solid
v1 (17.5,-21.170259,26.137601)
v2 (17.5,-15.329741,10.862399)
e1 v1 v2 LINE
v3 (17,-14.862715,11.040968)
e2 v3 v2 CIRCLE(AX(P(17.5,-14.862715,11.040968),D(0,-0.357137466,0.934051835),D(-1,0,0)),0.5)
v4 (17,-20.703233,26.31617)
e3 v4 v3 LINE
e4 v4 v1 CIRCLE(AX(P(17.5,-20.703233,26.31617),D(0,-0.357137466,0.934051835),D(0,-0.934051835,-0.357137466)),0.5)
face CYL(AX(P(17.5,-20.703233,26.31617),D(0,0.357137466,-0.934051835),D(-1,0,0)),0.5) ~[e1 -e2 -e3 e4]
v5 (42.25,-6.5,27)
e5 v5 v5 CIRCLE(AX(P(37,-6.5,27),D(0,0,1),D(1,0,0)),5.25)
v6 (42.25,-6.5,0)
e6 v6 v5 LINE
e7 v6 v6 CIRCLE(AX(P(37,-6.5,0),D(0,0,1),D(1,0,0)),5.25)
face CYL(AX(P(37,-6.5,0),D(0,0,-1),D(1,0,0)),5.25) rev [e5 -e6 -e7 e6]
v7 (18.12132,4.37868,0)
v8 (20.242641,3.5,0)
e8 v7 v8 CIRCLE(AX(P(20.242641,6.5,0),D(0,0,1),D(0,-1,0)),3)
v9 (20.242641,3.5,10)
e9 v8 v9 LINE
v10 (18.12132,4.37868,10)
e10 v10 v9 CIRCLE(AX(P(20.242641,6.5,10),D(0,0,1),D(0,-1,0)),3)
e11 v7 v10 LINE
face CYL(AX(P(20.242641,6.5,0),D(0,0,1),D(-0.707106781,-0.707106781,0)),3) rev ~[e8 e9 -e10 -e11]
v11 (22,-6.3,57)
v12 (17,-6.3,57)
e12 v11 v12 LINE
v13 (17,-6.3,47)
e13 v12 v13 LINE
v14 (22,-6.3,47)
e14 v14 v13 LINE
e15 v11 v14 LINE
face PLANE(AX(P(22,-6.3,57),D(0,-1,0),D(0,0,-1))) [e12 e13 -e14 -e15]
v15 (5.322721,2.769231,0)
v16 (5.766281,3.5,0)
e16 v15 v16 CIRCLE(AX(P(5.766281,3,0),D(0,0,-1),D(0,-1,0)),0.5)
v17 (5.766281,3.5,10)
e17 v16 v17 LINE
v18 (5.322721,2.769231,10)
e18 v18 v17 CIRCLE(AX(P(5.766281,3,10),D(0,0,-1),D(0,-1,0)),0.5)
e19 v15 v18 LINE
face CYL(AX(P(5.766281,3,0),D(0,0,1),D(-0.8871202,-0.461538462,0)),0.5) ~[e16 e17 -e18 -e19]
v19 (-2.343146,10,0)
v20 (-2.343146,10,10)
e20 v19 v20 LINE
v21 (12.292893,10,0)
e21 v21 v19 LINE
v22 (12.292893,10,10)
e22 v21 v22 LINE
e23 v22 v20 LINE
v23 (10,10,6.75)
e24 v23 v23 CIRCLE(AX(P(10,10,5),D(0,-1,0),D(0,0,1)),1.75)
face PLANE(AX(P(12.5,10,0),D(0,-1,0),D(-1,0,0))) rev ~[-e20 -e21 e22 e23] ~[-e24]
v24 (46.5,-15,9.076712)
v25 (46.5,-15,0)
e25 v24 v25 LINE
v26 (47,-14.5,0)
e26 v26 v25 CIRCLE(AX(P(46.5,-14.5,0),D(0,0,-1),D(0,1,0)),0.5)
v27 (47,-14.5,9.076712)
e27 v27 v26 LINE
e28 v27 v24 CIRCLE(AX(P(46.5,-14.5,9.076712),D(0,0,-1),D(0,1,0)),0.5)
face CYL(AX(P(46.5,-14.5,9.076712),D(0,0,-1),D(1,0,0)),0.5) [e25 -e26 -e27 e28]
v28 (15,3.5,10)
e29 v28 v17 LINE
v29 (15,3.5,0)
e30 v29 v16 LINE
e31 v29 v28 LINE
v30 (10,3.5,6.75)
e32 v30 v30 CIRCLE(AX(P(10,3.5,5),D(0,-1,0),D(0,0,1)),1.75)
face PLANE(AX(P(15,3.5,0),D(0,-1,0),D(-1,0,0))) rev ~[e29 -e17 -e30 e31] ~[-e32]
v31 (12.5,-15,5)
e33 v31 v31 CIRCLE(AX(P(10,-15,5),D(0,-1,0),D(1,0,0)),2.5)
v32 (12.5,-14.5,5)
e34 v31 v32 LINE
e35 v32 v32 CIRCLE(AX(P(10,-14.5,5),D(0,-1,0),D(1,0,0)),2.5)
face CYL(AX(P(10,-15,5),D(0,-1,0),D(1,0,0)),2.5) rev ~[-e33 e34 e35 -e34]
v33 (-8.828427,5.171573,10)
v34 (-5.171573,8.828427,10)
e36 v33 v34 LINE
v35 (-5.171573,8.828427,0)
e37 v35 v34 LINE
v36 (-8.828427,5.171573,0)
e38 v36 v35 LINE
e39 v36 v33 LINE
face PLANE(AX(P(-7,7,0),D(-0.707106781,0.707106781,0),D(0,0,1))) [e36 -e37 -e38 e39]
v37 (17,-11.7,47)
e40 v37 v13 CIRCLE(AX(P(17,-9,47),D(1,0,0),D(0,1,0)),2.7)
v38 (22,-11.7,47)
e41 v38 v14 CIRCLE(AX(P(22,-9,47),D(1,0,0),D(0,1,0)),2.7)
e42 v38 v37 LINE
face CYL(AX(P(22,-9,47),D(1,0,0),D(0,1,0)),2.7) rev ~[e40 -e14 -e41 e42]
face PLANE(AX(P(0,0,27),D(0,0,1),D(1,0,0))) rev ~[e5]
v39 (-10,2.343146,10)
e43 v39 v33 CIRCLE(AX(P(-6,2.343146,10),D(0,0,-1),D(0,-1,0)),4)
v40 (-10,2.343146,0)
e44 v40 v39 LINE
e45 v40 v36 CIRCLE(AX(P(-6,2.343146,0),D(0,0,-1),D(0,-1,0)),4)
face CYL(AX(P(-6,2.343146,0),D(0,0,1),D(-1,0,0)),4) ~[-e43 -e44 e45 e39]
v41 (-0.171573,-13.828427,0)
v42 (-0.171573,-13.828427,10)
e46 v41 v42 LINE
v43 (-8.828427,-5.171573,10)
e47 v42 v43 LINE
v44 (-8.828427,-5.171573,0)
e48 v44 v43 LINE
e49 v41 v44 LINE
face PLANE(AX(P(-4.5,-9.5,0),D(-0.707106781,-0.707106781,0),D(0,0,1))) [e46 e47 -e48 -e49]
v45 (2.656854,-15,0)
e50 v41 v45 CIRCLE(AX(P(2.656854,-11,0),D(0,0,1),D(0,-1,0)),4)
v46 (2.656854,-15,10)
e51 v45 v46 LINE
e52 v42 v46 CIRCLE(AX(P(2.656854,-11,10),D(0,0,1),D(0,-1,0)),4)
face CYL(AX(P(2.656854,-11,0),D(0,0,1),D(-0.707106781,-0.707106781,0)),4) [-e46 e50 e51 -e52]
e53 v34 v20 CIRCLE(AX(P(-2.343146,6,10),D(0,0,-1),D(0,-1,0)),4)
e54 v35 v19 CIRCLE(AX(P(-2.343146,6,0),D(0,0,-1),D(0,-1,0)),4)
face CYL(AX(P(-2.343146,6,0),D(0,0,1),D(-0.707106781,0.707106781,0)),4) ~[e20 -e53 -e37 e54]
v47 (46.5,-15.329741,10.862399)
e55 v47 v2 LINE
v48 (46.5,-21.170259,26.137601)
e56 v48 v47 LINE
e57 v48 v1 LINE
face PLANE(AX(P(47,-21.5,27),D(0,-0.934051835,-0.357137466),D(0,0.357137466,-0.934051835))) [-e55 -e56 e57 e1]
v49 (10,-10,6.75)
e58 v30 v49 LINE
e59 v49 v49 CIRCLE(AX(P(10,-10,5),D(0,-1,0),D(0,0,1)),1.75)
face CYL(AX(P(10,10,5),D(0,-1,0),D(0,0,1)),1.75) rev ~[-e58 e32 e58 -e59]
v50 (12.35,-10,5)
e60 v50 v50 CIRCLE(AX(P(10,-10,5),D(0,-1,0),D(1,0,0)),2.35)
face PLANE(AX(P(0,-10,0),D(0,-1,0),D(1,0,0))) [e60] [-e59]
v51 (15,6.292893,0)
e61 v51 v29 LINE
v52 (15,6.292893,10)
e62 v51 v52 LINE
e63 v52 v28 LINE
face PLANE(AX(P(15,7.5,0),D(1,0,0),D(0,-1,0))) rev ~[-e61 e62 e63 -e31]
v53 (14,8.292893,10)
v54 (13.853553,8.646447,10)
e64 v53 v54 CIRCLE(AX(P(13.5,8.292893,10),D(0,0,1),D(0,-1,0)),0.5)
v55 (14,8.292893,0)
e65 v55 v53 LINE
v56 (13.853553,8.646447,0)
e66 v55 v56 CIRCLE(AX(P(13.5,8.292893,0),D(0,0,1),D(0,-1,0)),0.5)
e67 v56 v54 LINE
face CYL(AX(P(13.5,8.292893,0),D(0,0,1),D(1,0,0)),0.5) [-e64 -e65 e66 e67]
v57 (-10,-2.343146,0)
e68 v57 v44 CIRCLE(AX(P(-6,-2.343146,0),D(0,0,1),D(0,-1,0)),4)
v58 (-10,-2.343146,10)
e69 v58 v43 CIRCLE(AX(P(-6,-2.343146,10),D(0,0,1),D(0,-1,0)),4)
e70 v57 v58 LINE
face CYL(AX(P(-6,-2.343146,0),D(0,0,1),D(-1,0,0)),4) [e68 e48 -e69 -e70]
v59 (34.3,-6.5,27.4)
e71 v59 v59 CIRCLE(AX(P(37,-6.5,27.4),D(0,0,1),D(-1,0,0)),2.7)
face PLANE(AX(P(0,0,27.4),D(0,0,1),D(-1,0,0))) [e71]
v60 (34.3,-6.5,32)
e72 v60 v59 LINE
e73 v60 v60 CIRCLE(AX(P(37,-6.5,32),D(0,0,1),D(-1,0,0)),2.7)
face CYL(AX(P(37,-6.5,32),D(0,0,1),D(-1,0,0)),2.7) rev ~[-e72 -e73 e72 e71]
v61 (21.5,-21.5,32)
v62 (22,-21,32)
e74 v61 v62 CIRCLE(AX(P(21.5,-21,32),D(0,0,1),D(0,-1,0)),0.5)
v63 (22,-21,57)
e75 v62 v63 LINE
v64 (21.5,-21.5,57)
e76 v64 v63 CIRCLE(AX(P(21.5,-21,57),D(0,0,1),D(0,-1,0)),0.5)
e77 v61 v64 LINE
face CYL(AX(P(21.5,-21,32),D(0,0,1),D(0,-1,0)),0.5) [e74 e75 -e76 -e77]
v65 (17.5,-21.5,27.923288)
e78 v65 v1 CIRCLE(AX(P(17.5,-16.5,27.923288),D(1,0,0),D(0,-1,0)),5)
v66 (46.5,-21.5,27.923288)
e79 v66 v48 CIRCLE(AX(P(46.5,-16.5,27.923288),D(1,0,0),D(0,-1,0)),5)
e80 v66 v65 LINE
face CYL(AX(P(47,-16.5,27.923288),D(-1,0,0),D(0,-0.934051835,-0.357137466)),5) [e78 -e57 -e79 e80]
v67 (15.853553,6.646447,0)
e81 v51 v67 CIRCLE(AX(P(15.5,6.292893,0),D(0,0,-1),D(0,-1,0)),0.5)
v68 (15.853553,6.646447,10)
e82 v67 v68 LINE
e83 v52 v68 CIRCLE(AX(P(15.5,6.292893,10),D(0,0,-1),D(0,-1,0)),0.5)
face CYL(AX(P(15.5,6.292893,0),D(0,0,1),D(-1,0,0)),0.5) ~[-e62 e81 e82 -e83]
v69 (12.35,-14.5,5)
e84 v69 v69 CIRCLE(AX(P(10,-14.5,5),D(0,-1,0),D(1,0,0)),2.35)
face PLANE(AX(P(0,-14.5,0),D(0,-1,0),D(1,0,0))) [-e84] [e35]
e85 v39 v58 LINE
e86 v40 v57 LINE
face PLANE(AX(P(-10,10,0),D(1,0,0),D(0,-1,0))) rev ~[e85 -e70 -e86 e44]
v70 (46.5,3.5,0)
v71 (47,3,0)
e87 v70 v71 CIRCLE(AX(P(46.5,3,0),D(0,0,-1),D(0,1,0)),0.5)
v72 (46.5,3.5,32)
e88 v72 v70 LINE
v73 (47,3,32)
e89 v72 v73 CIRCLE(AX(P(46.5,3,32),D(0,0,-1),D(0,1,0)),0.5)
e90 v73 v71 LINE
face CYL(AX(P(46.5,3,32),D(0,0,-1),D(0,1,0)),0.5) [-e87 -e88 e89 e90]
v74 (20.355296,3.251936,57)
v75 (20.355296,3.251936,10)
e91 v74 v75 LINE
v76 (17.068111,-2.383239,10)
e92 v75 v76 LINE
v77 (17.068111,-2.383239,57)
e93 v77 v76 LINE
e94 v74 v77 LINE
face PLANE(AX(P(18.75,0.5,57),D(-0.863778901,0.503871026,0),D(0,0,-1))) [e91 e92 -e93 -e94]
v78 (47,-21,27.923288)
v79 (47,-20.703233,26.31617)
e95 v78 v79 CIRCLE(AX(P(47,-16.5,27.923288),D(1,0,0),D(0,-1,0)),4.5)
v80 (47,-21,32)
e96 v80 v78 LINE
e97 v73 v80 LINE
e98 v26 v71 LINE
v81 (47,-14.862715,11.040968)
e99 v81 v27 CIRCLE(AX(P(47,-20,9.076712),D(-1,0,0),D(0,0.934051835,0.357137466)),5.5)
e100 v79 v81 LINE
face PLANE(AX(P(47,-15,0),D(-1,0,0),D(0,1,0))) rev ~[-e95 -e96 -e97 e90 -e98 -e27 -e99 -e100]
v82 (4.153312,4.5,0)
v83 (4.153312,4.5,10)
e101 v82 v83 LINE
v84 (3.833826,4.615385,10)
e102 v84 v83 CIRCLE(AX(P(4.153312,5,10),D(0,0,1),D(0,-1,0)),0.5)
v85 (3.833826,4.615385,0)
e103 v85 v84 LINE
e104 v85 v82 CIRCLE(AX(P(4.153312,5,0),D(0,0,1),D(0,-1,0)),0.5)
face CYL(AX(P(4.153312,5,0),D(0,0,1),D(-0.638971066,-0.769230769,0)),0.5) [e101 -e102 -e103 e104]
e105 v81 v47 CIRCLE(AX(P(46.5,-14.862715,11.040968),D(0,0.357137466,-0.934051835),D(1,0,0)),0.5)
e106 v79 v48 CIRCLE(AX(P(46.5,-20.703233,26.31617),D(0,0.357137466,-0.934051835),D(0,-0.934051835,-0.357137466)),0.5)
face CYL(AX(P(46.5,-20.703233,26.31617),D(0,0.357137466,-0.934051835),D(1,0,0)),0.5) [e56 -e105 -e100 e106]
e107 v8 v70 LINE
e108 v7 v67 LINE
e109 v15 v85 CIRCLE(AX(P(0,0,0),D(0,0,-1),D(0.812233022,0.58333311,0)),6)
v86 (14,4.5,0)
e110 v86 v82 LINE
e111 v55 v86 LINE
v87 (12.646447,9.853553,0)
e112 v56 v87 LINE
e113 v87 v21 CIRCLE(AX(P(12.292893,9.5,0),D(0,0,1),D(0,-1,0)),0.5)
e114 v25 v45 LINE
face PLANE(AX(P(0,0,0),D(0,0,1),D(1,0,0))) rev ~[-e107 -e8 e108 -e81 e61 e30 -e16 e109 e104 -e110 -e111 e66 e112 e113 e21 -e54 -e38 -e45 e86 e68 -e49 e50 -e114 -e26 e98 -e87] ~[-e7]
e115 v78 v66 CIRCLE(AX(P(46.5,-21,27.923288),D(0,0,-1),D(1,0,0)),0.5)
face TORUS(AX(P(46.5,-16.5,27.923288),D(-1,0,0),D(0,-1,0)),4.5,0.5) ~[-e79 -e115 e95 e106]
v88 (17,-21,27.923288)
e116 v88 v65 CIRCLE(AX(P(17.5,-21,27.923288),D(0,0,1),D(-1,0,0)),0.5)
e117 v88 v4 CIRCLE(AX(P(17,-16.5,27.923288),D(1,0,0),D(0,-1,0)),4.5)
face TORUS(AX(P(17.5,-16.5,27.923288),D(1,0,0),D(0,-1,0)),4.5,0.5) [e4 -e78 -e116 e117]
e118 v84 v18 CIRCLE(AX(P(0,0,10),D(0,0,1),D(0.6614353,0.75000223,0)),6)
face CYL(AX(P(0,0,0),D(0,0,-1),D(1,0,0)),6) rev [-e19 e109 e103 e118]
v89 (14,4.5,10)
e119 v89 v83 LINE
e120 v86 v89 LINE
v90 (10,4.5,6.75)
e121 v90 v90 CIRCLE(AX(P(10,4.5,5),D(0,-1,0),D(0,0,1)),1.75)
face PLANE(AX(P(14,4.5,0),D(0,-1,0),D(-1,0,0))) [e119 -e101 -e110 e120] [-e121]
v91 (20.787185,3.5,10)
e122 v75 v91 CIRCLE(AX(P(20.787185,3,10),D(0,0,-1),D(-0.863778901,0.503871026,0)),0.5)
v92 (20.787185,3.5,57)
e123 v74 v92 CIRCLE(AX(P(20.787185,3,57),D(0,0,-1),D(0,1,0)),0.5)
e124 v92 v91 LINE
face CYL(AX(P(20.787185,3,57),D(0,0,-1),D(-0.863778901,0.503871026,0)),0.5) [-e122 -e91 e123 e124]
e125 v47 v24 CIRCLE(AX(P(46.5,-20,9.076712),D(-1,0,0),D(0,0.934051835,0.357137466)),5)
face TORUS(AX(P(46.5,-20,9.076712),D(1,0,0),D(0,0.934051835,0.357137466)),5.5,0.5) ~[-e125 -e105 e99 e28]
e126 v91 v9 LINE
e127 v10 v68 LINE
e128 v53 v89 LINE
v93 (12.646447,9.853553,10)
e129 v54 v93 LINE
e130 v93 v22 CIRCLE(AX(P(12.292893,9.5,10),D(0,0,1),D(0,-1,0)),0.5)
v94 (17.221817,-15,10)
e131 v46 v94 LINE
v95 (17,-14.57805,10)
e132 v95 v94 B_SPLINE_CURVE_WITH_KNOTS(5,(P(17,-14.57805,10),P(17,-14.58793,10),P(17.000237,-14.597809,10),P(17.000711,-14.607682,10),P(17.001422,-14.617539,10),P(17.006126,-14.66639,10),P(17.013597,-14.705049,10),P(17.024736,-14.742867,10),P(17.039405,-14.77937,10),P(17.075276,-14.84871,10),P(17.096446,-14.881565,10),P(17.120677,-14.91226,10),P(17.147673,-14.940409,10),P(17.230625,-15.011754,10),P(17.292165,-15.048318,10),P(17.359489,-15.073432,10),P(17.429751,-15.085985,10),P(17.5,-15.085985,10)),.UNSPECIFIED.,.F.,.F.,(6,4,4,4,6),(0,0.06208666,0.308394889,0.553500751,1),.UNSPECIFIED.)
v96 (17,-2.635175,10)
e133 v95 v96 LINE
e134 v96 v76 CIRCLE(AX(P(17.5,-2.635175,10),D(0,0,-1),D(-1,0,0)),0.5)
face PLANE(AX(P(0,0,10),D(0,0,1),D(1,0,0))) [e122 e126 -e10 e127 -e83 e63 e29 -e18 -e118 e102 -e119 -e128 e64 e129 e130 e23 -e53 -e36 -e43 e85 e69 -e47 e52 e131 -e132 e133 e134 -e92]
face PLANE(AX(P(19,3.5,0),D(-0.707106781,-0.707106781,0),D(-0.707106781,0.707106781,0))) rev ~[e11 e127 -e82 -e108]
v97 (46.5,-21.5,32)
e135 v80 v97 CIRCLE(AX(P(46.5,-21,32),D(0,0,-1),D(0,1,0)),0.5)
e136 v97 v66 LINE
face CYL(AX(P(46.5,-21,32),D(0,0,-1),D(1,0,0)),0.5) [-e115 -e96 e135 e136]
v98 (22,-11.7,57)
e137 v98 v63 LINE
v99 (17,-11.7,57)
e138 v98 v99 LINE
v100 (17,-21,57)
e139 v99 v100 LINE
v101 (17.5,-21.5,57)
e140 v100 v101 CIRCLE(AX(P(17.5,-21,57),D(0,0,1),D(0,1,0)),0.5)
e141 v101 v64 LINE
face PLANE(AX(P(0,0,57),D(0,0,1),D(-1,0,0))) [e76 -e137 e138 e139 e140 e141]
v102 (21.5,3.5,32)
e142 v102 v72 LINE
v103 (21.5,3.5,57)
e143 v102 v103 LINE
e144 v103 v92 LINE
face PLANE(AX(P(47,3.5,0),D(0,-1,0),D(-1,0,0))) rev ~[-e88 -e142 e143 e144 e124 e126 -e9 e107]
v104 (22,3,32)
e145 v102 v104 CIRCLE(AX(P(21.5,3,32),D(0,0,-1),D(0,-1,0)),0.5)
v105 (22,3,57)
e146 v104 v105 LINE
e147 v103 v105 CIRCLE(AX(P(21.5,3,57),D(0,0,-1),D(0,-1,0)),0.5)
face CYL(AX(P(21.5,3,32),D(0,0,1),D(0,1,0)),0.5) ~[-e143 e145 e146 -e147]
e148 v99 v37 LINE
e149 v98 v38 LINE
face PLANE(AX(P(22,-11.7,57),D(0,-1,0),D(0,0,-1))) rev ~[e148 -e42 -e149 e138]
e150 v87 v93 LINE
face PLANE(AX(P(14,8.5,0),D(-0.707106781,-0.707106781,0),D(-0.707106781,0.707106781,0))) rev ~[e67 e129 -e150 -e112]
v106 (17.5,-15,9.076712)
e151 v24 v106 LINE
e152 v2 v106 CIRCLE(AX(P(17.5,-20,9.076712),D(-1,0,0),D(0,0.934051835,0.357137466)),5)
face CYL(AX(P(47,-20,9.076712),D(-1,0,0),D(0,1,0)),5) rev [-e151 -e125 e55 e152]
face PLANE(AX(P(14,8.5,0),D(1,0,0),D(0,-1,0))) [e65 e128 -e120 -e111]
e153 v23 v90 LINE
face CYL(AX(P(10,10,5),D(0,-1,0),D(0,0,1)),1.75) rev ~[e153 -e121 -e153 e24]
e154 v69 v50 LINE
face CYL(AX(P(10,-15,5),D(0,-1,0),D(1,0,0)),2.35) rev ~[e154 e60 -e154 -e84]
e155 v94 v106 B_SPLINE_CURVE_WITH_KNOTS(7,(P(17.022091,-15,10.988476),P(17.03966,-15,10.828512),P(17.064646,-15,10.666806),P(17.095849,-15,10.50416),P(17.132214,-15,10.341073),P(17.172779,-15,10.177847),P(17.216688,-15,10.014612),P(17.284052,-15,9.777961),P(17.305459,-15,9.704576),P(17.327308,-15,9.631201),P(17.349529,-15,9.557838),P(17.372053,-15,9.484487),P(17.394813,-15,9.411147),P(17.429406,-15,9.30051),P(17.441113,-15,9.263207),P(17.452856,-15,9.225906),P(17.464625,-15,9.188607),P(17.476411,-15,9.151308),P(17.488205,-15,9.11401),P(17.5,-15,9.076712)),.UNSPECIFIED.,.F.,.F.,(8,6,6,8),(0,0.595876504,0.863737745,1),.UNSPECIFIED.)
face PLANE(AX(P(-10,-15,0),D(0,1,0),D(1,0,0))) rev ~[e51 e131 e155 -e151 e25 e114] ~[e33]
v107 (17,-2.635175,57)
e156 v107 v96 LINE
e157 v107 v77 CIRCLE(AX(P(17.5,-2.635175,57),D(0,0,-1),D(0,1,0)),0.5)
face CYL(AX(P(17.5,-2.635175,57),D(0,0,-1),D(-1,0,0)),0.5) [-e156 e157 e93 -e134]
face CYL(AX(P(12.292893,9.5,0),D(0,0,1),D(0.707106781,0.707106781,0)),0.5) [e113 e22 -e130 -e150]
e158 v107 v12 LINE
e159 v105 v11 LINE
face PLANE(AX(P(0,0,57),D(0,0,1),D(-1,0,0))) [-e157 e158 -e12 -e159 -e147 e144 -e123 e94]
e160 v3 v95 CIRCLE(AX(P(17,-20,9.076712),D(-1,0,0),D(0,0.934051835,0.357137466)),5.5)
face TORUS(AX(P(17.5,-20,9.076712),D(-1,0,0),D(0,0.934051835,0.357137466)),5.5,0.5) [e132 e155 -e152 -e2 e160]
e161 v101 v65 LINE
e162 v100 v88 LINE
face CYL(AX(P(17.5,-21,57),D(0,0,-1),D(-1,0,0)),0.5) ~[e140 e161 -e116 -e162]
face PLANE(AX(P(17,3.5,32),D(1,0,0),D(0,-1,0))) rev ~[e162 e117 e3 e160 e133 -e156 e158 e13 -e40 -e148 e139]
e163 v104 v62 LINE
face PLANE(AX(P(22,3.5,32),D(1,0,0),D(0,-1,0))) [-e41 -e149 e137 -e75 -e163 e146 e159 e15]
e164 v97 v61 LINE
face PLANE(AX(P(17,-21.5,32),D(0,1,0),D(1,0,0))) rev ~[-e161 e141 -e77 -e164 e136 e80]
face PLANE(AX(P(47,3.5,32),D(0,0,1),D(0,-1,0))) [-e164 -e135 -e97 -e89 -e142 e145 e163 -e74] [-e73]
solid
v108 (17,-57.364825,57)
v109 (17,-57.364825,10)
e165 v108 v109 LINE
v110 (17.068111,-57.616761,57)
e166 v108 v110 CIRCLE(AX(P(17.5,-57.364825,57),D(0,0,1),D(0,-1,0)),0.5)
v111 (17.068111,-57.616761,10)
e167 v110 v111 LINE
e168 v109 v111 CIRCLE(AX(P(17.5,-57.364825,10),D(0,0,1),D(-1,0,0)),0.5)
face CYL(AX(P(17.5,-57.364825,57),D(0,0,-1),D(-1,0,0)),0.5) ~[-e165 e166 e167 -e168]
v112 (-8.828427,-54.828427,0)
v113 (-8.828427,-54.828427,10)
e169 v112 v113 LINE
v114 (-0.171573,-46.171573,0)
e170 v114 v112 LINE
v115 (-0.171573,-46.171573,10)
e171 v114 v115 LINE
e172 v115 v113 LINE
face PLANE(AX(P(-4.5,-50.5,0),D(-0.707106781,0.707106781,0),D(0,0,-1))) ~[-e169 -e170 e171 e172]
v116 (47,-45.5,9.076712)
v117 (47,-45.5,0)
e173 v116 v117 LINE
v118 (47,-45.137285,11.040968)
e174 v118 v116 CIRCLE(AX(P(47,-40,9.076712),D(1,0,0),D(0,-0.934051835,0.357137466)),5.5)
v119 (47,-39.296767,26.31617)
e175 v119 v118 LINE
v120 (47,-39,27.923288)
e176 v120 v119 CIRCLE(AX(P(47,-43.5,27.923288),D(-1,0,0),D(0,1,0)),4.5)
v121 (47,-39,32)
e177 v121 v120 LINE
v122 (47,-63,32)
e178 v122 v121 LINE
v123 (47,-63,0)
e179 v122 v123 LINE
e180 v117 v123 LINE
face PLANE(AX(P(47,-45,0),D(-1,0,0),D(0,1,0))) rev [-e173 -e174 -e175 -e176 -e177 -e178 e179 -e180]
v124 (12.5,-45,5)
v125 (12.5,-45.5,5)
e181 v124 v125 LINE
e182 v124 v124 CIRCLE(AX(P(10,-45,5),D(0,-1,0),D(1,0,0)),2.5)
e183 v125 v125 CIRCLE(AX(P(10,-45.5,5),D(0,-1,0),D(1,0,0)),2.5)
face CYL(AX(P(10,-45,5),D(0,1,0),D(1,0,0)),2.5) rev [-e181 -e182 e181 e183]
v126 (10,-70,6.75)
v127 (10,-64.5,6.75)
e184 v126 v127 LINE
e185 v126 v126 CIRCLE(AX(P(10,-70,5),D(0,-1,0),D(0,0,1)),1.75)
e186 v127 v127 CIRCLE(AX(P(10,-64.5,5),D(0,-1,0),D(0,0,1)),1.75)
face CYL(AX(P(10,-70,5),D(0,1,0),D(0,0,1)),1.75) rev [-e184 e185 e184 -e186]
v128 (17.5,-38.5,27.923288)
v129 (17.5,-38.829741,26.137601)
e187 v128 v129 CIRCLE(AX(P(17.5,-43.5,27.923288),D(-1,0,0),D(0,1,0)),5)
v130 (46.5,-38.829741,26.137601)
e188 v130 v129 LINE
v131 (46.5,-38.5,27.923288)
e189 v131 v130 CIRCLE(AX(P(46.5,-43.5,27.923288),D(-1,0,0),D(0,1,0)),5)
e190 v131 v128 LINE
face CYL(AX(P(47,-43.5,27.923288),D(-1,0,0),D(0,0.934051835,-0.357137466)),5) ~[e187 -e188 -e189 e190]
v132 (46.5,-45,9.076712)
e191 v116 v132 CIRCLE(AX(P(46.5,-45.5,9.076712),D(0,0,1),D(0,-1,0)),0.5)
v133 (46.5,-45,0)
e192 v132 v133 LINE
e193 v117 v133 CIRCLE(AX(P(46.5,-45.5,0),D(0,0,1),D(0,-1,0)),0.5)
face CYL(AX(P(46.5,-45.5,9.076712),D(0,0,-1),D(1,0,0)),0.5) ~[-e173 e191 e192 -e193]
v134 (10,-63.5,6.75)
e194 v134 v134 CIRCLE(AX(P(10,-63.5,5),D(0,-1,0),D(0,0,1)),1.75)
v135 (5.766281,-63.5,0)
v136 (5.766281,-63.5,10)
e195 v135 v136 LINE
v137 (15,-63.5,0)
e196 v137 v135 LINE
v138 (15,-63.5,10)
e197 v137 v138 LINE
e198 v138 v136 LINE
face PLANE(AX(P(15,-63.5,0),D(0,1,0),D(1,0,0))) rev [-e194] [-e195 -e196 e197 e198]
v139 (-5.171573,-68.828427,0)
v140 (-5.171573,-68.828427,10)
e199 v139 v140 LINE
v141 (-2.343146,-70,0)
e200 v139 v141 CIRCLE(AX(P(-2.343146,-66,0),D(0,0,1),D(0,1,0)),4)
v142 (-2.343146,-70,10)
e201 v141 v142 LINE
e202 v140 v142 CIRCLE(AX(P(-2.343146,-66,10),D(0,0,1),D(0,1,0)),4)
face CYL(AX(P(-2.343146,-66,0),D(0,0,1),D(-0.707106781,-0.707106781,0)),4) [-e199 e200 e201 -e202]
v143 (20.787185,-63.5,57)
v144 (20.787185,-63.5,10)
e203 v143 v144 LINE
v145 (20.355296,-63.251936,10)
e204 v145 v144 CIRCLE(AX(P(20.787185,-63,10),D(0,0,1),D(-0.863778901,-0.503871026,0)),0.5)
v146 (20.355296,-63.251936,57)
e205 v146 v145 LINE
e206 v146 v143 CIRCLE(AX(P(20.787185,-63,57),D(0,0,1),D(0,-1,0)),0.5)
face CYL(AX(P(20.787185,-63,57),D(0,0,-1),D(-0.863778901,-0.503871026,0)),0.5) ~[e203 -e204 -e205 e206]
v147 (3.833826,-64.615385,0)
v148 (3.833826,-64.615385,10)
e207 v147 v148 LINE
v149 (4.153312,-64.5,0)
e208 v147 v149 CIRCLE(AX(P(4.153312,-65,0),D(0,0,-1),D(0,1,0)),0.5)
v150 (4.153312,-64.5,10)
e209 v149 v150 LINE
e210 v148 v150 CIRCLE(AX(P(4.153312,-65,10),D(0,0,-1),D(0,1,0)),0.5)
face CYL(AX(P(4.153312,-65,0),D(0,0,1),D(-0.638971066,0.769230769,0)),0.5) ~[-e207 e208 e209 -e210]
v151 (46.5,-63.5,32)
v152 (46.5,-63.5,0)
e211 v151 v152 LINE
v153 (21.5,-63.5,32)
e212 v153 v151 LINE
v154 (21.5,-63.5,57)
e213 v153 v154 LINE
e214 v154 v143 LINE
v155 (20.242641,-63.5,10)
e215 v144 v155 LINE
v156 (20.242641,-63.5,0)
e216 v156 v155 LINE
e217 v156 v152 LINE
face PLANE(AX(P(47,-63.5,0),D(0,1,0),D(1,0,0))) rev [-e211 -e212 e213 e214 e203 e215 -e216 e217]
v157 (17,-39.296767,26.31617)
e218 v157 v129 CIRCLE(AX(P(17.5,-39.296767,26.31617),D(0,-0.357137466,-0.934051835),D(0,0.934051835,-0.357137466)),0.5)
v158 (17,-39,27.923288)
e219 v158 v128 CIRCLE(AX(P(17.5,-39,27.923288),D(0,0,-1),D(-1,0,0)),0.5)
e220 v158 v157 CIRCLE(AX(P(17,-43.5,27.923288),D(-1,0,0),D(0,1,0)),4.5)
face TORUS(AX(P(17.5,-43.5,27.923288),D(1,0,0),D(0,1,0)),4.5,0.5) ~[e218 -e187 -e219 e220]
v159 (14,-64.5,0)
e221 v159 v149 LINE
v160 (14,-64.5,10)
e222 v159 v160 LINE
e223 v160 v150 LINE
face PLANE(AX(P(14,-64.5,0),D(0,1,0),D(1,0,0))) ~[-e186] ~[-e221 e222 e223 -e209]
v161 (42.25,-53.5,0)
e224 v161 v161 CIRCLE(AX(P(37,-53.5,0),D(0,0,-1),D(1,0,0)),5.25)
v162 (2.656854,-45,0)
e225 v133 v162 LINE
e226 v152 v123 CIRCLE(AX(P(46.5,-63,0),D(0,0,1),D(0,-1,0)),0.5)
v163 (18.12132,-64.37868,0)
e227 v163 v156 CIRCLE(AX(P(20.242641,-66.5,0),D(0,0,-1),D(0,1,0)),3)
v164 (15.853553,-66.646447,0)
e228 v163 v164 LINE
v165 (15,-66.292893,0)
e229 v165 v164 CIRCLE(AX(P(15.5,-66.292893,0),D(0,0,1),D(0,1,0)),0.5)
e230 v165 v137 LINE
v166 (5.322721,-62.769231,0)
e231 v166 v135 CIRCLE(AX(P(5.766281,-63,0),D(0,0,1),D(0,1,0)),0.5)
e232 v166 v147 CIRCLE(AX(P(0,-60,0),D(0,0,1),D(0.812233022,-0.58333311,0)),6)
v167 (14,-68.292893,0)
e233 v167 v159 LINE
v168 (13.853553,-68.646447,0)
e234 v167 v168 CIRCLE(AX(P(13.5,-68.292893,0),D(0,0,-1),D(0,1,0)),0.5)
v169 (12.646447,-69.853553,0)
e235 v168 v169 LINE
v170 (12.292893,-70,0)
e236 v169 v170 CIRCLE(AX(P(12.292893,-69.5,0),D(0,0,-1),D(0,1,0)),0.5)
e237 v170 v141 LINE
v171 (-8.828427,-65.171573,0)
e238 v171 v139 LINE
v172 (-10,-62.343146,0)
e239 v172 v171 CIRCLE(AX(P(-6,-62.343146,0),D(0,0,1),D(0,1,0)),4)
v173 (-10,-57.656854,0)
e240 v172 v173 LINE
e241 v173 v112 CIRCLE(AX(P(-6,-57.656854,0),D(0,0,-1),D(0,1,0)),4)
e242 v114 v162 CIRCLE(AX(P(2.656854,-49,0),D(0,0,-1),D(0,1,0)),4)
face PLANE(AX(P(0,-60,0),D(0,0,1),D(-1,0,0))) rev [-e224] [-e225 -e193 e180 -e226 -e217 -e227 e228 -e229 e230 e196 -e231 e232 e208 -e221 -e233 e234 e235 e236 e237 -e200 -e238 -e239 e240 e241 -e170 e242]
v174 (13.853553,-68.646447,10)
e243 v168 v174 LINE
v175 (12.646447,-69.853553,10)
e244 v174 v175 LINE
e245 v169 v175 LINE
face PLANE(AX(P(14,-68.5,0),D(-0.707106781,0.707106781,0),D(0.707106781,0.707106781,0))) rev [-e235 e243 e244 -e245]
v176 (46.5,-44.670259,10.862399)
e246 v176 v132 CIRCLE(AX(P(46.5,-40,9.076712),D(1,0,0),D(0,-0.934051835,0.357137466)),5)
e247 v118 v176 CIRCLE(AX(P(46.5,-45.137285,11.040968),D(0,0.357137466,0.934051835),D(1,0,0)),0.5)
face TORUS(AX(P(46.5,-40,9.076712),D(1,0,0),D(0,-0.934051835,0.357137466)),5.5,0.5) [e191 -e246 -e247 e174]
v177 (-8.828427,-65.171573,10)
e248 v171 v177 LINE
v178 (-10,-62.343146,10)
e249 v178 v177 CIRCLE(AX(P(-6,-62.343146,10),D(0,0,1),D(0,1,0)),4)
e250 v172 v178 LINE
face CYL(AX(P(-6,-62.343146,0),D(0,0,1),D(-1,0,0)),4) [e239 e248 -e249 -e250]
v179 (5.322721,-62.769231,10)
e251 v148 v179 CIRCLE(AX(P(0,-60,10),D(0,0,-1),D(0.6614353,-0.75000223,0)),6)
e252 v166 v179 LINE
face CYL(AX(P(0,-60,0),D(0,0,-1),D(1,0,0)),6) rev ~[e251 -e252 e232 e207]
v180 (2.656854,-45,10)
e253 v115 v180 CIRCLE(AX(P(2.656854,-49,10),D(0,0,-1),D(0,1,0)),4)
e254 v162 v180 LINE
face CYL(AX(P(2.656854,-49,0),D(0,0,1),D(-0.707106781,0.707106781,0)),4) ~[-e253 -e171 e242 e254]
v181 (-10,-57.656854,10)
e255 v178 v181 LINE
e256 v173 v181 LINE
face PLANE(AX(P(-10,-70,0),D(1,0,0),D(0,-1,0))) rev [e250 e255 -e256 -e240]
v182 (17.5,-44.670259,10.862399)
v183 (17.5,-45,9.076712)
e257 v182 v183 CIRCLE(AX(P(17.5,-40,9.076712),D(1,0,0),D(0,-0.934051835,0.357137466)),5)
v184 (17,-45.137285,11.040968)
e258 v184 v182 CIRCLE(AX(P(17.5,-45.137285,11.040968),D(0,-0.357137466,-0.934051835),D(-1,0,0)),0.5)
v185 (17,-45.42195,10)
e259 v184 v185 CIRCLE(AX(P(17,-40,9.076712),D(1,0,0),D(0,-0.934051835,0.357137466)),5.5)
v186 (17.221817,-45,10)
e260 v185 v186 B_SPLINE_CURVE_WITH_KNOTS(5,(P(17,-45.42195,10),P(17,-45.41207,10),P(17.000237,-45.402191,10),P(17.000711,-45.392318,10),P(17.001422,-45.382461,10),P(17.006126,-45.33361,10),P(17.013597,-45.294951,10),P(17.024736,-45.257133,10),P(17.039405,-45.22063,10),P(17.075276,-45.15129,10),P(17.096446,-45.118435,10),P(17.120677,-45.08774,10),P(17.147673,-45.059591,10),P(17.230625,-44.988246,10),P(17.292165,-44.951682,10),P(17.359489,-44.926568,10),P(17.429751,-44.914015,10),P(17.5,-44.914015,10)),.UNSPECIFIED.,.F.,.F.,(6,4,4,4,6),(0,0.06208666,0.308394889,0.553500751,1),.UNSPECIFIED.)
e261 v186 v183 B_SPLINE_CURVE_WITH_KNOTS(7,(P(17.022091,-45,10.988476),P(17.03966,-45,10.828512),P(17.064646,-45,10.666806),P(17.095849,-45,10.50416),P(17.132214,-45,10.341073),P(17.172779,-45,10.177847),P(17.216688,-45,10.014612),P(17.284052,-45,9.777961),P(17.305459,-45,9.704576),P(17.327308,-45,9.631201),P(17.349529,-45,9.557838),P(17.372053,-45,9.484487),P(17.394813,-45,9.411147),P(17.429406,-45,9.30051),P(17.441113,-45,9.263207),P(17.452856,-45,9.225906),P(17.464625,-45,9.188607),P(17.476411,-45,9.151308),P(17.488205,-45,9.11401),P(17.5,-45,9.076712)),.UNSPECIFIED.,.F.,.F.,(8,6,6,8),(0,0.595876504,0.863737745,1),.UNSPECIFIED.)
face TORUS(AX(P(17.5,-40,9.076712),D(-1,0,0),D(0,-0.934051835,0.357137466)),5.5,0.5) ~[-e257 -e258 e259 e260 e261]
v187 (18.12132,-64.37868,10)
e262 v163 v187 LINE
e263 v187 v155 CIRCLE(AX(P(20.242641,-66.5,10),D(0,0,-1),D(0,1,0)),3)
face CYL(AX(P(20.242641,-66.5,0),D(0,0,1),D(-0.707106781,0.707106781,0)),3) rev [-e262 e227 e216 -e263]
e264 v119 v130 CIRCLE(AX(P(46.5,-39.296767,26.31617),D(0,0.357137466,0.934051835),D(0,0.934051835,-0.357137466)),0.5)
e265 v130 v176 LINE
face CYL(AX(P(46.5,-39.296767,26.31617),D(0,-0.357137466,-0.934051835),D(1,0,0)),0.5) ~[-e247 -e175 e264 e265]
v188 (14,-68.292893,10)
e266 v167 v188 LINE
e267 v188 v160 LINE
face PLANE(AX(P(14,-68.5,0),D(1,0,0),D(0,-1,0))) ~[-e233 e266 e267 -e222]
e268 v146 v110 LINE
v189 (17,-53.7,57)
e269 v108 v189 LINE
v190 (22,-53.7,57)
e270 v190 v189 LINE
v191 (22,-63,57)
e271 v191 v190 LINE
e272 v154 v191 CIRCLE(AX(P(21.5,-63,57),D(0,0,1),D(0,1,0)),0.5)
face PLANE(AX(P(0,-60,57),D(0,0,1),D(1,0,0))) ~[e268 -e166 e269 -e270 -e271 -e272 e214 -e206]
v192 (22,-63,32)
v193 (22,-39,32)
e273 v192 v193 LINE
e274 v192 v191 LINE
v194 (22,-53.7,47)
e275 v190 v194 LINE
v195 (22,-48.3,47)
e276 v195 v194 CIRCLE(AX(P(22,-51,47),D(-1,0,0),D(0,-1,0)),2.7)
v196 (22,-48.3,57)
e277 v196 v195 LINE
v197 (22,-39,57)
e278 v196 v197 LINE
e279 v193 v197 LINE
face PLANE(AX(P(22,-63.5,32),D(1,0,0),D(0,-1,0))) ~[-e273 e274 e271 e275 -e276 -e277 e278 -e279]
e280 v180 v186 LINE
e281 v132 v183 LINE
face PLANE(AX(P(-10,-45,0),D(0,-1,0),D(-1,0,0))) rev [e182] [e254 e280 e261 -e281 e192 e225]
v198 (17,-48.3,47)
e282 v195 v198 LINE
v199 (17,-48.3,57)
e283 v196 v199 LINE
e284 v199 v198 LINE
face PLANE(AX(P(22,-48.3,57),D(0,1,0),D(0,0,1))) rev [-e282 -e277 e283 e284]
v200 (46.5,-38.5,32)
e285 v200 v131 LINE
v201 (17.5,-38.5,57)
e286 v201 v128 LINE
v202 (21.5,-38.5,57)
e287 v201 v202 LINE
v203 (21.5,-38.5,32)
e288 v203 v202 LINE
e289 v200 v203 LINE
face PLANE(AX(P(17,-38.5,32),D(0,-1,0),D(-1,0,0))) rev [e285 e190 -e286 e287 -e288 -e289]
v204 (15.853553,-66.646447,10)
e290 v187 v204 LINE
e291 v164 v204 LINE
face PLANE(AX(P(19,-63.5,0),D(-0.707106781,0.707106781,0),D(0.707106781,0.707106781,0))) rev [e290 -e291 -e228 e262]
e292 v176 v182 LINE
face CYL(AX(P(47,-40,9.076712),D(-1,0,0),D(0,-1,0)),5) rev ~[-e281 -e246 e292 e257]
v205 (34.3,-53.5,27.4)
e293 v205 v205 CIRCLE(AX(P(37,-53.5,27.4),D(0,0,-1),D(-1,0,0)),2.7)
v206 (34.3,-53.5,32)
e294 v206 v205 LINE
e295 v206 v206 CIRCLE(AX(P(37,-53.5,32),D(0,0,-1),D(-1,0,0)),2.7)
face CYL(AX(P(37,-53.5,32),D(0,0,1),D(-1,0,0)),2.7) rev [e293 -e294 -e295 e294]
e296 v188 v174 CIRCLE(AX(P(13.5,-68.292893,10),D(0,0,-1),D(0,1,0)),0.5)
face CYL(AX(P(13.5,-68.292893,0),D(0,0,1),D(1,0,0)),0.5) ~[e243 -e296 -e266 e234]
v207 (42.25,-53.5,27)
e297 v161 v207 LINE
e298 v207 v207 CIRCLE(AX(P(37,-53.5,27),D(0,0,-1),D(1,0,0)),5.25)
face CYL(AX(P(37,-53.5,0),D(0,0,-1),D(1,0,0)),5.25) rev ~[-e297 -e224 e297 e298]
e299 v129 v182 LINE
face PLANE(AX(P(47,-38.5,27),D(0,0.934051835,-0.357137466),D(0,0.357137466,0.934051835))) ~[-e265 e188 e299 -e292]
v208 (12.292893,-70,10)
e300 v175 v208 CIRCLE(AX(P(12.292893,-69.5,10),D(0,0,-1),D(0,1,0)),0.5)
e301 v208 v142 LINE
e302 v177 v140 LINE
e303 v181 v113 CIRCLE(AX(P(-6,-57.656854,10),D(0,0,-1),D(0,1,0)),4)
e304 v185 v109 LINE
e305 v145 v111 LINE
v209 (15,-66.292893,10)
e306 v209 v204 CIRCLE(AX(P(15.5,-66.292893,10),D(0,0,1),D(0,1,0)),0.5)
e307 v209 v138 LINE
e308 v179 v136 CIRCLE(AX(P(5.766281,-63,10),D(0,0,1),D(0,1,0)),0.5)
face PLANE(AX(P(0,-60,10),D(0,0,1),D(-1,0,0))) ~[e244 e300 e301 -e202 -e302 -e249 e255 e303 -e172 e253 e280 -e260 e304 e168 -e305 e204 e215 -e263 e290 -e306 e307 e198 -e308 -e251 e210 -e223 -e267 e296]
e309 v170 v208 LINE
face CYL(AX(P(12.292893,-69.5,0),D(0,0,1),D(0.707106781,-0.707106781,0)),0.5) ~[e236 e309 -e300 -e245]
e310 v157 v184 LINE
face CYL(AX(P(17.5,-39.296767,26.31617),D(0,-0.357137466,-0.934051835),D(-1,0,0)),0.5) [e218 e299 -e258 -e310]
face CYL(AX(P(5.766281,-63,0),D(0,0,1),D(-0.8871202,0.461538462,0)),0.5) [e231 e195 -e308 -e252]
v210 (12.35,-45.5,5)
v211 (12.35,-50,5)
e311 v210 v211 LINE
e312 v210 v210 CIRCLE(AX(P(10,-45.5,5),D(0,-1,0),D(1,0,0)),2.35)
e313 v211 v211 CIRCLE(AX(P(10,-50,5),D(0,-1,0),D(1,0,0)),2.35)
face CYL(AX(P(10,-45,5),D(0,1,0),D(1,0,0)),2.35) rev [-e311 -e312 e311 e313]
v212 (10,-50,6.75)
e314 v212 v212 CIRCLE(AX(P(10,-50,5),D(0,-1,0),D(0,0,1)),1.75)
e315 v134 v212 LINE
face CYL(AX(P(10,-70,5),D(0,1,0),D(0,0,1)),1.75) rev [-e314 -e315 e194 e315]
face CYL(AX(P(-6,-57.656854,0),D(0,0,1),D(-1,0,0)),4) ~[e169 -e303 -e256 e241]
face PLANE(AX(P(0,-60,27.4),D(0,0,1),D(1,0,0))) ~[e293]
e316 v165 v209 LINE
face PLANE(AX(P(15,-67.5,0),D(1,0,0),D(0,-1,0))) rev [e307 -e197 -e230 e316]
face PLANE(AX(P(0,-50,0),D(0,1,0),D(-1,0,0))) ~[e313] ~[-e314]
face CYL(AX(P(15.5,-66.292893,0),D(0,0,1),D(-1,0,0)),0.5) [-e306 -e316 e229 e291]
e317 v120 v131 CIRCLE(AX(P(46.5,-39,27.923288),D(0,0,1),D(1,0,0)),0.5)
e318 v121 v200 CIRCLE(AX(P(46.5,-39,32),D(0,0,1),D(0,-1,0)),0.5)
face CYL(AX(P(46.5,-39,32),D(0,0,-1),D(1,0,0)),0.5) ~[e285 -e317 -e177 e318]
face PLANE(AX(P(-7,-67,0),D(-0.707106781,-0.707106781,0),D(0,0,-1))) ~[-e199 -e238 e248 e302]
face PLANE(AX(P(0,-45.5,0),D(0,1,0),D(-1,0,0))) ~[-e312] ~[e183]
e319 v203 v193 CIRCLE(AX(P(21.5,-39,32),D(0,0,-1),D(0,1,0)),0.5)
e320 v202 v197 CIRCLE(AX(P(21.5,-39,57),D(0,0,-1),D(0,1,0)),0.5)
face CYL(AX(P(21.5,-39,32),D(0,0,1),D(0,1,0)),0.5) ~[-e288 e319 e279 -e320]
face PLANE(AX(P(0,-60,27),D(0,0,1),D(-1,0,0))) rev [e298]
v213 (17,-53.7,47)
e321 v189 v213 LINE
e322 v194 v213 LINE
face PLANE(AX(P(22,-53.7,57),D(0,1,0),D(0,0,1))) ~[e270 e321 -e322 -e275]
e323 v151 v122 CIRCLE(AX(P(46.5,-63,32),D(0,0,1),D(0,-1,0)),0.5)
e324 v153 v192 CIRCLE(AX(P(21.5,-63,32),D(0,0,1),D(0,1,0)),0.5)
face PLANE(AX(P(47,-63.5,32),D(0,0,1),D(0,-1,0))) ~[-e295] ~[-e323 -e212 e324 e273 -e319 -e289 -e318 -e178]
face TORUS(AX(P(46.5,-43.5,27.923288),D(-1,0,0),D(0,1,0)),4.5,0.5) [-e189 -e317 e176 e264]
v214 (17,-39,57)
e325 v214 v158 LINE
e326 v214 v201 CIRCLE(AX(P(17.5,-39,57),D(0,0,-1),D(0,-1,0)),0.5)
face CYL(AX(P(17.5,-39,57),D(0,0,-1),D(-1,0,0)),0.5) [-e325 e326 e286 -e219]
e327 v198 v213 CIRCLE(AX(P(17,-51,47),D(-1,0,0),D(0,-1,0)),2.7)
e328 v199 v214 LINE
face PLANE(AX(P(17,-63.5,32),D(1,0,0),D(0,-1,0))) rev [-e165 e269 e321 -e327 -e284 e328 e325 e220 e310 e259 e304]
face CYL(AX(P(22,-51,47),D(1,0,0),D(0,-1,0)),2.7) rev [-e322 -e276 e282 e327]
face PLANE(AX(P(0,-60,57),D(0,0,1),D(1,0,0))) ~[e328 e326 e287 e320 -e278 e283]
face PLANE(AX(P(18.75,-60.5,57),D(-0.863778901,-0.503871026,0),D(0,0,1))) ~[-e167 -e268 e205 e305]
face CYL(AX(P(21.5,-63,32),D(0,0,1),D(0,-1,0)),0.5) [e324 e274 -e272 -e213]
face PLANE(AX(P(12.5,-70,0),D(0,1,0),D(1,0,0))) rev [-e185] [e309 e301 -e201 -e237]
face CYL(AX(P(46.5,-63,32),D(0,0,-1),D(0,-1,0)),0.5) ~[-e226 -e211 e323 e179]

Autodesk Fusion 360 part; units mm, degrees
sketch "スケッチ1" plane through (0, 0, 0) normal (0, 0, 1) x (1, 0, 0)
  circle A0 centre (0, 0) radius 6
  line L0 (19, 10) -> (-10, 10)
  line L1 (-10, 10) -> (-10, -15)
  line L2 (-10, -15) -> (47, -15)
  line L3 (47, -15) -> (47, 3.5)
  line L4 (47, 3.5) -> (19, 3.5)
  line L5 (19, 3.5) -> (19, 10)
  line L6 (15, 10) -> (15, 3.5)
  line L7 (14, 10) -> (14, 4.5)
  line L8 (19, 3.5) -> (12.5, 10)
  line L9 (19, 3.5) -> (28.1924, 3.5) construction
  line L10 (14, 4.5) -> (3.9686, 4.5)
  line L11 (15, 3.5) -> (4.8734, 3.5)
  circle A1 centre (37, -6.5) radius 5.25
  dimension "d1" = 12
  dimension "d2" = 10
  dimension "d3" = 10
  dimension "d4" = 15
  dimension "d5" = 47
  dimension "d6" = 3.5
  dimension "d7" = 28
  dimension "d8" = 1
  dimension "d9" = 25
  dimension "d10" = 135
  dimension "d11" = 1
  dimension "d12" = 6.5
  dimension "d13" = 10.5
  dimension "d15" = 10
  dimension "d66" = 10
extrude "押し出し1" add sketch "スケッチ1" along normal blind 10 contours A0 L0 L1 L2 L3 L4 L6 L7 L8 L10 L11 | A1 makes body 1
sketch "スケッチ2" plane through (47, 0, 0) normal (1, 0, 0) x (0, 1, 0)
  line L0 (-15, 0) -> (3.5, 0)
  line L1 (3.5, 0) -> (3.5, 10)
  line L2 (3.5, 10) -> (-15, 10)
  line L3 (-15, 10) -> (-15, 0)
  line L4 (3.5, 0) -> (3.5, 32)
  line L5 (3.5, 32) -> (-21.5, 32)
  line L6 (-21.5, 32) -> (-21.5, 27)
  line L7 (-21.5, 27) -> (-15, 10)
  line L8 (-15, 0) -> (3.5, 0)
  dimension "d18" = 32
  dimension "d19" = 25
  dimension "d20" = 5
extrude "押し出し2" add sketch "スケッチ2" against normal blind 30 separate body makes body 2
sketch "スケッチ3" plane through (0, 0, 32) normal (0, 0, 1) x (-1, 0, 0)
  line L0 (-47, 21.5) -> (-47, -3.5)
  line L1 (-47, -3.5) -> (-17, -3.5)
  line L2 (-17, -3.5) -> (-17, 21.5)
  line L3 (-17, 21.5) -> (-47, 21.5)
  line L4 (-17, -3.5) -> (-22, -3.5)
  line L5 (-22, -3.5) -> (-22, 21.5)
  line L6 (-22, 21.5) -> (-17, 21.5)
  line L7 (-17, 21.5) -> (-17, -3.5)
  dimension "d23" = 5
extrude "押し出し3" add sketch "スケッチ3" along normal blind 25 contours L1 L2 L3 L4 L5 L6 L7 bodies 2
sketch "スケッチ4" plane through (0, 0, 32) normal (0, 0, 1) x (-1, 0, 0)
  line L0 (-22, -3.5) -> (-22, 21.5)
  line L1 (-22, 21.5) -> (-47, 21.5)
  line L2 (-47, 21.5) -> (-47, -3.5)
  line L3 (-47, -3.5) -> (-22, -3.5)
  circle A0 centre (-37, 6.5) radius 2.7
  dimension "d26" = 5.4
  dimension "d27" = 10
  dimension "d28" = 10
extrude "押し出し4" cut sketch "スケッチ4" against normal blind 4.6 contours A0 bodies 2
sketch "スケッチ6" plane through (22, 0, 0) normal (1, 0, 0) x (0, 1, 0)
  line L0 (-21.5, 32) -> (3.5, 32)
  line L1 (3.5, 32) -> (3.5, 57)
  line L2 (3.5, 57) -> (-21.5, 57)
  line L3 (-21.5, 57) -> (-21.5, 32)
  circle A0 centre (-9, 47) radius 2.7
  line L4 (3.5, 32) -> (-21.5, 32)
  line L5 (-11.7, 57) -> (-11.7, 47)
  line L6 (-6.3, 57) -> (-6.3, 47)
  dimension "d67" = 5.4
  dimension "d68" = 12.5
  dimension "d69" = 15
extrude "押し出し9" cut sketch "スケッチ6" against normal blind 10 contours L2 A0 L5 L6 | A0 bodies 2
hole "穴2" at (10, 10, 5) direction (0, -1, 0) diameter 3.5 depth 30 tip angle 118 bodies 1
chamfer "面取り1" distance 3.5 distance2 6 1 edges at (17, 3.5, 28.5) measured on face at (28.6667, 3.5, 10.6667) on bodies 2
fillet "フィレット2" radius 5 2 edges at (32, -21.5, 27) (32, -15, 10) on bodies 2
fillet "フィレット3" radius 0.5 9 edges at (20.5, 3.5, 28.5) (17, -2.5, 28.5) (17, -15, 4.5384) (17, -15.0831, 9.9847) (17, -18.25, 18.5) (17, -21.4169, 27.0153) (17, -21.5, 42.4616) (22, -21.5, 44.5) (22, 3.5, 44.5) on bodies 2
fillet "フィレット4" radius 0.5 5 edges at (15, 7.5, 5) (14, 8.5, 5) (12.5, 10, 5) (4.8734, 3.5, 5) (3.9686, 4.5, 5) on bodies 1
fillet "フィレット5" radius 3 1 edges at (19, 3.5, 5) on bodies 1
chamfer "面取り2" distance 11 angle 45 1 edges at (-10, -15, 5) on bodies 1
chamfer "面取り3" distance 6 angle 45 1 edges at (-10, 10, 5) on bodies 1
fillet "フィレット6" radius 4 4 edges at (-4, 10, 5) (-10, 4, 5) (-10, -4, 5) (1, -15, 5) on bodies 1
sketch "スケッチ5" plane through (0, -15, 0) normal (0, -1, 0) x (1, 0, 0)
  circle A0 centre (10, 5) radius 1.75
  line L0 (2.6569, 10) -> (2.6569, 0)
  line L1 (2.6569, 0) -> (47, 0)
  line L2 (47, 0) -> (47, 10)
  line L3 (47, 10) -> (2.6569, 10)
  circle A1 centre (10, 5) radius 2.5
  circle A2 centre (10, 5) radius 2.35
  dimension "d55" = 5
  dimension "d56" = 4.7
extrude "押し出し6" cut sketch "スケッチ5" against normal blind 5 contours A2 bodies 1
extrude "押し出し7" cut sketch "スケッチ5" against normal blind 0.5 contours A1 bodies 1
combine "結合1" operation add target body 1 tool bodies 2
fillet "フィレット7" radius 0.5 6 edges at (47, -21.5, 29.9616) (47, -21.4169, 27.0153) (47, -18.25, 18.5) (47, -15.0831, 9.9847) (47, -15, 4.5384) (47, 3.5, 16) on bodies 1
extrude "押し出し8" cut sketch "スケッチ1" along normal blind 27 contours A1 bodies 1
ref_plane "作業平面1" through (0, -30, 0) normal (0, 1, 0) x (0, 0, 1)
mirror "ミラー1" about plane through (0, -30, 0) normal (0, 1, 0) of bodies 1 makes body 3
